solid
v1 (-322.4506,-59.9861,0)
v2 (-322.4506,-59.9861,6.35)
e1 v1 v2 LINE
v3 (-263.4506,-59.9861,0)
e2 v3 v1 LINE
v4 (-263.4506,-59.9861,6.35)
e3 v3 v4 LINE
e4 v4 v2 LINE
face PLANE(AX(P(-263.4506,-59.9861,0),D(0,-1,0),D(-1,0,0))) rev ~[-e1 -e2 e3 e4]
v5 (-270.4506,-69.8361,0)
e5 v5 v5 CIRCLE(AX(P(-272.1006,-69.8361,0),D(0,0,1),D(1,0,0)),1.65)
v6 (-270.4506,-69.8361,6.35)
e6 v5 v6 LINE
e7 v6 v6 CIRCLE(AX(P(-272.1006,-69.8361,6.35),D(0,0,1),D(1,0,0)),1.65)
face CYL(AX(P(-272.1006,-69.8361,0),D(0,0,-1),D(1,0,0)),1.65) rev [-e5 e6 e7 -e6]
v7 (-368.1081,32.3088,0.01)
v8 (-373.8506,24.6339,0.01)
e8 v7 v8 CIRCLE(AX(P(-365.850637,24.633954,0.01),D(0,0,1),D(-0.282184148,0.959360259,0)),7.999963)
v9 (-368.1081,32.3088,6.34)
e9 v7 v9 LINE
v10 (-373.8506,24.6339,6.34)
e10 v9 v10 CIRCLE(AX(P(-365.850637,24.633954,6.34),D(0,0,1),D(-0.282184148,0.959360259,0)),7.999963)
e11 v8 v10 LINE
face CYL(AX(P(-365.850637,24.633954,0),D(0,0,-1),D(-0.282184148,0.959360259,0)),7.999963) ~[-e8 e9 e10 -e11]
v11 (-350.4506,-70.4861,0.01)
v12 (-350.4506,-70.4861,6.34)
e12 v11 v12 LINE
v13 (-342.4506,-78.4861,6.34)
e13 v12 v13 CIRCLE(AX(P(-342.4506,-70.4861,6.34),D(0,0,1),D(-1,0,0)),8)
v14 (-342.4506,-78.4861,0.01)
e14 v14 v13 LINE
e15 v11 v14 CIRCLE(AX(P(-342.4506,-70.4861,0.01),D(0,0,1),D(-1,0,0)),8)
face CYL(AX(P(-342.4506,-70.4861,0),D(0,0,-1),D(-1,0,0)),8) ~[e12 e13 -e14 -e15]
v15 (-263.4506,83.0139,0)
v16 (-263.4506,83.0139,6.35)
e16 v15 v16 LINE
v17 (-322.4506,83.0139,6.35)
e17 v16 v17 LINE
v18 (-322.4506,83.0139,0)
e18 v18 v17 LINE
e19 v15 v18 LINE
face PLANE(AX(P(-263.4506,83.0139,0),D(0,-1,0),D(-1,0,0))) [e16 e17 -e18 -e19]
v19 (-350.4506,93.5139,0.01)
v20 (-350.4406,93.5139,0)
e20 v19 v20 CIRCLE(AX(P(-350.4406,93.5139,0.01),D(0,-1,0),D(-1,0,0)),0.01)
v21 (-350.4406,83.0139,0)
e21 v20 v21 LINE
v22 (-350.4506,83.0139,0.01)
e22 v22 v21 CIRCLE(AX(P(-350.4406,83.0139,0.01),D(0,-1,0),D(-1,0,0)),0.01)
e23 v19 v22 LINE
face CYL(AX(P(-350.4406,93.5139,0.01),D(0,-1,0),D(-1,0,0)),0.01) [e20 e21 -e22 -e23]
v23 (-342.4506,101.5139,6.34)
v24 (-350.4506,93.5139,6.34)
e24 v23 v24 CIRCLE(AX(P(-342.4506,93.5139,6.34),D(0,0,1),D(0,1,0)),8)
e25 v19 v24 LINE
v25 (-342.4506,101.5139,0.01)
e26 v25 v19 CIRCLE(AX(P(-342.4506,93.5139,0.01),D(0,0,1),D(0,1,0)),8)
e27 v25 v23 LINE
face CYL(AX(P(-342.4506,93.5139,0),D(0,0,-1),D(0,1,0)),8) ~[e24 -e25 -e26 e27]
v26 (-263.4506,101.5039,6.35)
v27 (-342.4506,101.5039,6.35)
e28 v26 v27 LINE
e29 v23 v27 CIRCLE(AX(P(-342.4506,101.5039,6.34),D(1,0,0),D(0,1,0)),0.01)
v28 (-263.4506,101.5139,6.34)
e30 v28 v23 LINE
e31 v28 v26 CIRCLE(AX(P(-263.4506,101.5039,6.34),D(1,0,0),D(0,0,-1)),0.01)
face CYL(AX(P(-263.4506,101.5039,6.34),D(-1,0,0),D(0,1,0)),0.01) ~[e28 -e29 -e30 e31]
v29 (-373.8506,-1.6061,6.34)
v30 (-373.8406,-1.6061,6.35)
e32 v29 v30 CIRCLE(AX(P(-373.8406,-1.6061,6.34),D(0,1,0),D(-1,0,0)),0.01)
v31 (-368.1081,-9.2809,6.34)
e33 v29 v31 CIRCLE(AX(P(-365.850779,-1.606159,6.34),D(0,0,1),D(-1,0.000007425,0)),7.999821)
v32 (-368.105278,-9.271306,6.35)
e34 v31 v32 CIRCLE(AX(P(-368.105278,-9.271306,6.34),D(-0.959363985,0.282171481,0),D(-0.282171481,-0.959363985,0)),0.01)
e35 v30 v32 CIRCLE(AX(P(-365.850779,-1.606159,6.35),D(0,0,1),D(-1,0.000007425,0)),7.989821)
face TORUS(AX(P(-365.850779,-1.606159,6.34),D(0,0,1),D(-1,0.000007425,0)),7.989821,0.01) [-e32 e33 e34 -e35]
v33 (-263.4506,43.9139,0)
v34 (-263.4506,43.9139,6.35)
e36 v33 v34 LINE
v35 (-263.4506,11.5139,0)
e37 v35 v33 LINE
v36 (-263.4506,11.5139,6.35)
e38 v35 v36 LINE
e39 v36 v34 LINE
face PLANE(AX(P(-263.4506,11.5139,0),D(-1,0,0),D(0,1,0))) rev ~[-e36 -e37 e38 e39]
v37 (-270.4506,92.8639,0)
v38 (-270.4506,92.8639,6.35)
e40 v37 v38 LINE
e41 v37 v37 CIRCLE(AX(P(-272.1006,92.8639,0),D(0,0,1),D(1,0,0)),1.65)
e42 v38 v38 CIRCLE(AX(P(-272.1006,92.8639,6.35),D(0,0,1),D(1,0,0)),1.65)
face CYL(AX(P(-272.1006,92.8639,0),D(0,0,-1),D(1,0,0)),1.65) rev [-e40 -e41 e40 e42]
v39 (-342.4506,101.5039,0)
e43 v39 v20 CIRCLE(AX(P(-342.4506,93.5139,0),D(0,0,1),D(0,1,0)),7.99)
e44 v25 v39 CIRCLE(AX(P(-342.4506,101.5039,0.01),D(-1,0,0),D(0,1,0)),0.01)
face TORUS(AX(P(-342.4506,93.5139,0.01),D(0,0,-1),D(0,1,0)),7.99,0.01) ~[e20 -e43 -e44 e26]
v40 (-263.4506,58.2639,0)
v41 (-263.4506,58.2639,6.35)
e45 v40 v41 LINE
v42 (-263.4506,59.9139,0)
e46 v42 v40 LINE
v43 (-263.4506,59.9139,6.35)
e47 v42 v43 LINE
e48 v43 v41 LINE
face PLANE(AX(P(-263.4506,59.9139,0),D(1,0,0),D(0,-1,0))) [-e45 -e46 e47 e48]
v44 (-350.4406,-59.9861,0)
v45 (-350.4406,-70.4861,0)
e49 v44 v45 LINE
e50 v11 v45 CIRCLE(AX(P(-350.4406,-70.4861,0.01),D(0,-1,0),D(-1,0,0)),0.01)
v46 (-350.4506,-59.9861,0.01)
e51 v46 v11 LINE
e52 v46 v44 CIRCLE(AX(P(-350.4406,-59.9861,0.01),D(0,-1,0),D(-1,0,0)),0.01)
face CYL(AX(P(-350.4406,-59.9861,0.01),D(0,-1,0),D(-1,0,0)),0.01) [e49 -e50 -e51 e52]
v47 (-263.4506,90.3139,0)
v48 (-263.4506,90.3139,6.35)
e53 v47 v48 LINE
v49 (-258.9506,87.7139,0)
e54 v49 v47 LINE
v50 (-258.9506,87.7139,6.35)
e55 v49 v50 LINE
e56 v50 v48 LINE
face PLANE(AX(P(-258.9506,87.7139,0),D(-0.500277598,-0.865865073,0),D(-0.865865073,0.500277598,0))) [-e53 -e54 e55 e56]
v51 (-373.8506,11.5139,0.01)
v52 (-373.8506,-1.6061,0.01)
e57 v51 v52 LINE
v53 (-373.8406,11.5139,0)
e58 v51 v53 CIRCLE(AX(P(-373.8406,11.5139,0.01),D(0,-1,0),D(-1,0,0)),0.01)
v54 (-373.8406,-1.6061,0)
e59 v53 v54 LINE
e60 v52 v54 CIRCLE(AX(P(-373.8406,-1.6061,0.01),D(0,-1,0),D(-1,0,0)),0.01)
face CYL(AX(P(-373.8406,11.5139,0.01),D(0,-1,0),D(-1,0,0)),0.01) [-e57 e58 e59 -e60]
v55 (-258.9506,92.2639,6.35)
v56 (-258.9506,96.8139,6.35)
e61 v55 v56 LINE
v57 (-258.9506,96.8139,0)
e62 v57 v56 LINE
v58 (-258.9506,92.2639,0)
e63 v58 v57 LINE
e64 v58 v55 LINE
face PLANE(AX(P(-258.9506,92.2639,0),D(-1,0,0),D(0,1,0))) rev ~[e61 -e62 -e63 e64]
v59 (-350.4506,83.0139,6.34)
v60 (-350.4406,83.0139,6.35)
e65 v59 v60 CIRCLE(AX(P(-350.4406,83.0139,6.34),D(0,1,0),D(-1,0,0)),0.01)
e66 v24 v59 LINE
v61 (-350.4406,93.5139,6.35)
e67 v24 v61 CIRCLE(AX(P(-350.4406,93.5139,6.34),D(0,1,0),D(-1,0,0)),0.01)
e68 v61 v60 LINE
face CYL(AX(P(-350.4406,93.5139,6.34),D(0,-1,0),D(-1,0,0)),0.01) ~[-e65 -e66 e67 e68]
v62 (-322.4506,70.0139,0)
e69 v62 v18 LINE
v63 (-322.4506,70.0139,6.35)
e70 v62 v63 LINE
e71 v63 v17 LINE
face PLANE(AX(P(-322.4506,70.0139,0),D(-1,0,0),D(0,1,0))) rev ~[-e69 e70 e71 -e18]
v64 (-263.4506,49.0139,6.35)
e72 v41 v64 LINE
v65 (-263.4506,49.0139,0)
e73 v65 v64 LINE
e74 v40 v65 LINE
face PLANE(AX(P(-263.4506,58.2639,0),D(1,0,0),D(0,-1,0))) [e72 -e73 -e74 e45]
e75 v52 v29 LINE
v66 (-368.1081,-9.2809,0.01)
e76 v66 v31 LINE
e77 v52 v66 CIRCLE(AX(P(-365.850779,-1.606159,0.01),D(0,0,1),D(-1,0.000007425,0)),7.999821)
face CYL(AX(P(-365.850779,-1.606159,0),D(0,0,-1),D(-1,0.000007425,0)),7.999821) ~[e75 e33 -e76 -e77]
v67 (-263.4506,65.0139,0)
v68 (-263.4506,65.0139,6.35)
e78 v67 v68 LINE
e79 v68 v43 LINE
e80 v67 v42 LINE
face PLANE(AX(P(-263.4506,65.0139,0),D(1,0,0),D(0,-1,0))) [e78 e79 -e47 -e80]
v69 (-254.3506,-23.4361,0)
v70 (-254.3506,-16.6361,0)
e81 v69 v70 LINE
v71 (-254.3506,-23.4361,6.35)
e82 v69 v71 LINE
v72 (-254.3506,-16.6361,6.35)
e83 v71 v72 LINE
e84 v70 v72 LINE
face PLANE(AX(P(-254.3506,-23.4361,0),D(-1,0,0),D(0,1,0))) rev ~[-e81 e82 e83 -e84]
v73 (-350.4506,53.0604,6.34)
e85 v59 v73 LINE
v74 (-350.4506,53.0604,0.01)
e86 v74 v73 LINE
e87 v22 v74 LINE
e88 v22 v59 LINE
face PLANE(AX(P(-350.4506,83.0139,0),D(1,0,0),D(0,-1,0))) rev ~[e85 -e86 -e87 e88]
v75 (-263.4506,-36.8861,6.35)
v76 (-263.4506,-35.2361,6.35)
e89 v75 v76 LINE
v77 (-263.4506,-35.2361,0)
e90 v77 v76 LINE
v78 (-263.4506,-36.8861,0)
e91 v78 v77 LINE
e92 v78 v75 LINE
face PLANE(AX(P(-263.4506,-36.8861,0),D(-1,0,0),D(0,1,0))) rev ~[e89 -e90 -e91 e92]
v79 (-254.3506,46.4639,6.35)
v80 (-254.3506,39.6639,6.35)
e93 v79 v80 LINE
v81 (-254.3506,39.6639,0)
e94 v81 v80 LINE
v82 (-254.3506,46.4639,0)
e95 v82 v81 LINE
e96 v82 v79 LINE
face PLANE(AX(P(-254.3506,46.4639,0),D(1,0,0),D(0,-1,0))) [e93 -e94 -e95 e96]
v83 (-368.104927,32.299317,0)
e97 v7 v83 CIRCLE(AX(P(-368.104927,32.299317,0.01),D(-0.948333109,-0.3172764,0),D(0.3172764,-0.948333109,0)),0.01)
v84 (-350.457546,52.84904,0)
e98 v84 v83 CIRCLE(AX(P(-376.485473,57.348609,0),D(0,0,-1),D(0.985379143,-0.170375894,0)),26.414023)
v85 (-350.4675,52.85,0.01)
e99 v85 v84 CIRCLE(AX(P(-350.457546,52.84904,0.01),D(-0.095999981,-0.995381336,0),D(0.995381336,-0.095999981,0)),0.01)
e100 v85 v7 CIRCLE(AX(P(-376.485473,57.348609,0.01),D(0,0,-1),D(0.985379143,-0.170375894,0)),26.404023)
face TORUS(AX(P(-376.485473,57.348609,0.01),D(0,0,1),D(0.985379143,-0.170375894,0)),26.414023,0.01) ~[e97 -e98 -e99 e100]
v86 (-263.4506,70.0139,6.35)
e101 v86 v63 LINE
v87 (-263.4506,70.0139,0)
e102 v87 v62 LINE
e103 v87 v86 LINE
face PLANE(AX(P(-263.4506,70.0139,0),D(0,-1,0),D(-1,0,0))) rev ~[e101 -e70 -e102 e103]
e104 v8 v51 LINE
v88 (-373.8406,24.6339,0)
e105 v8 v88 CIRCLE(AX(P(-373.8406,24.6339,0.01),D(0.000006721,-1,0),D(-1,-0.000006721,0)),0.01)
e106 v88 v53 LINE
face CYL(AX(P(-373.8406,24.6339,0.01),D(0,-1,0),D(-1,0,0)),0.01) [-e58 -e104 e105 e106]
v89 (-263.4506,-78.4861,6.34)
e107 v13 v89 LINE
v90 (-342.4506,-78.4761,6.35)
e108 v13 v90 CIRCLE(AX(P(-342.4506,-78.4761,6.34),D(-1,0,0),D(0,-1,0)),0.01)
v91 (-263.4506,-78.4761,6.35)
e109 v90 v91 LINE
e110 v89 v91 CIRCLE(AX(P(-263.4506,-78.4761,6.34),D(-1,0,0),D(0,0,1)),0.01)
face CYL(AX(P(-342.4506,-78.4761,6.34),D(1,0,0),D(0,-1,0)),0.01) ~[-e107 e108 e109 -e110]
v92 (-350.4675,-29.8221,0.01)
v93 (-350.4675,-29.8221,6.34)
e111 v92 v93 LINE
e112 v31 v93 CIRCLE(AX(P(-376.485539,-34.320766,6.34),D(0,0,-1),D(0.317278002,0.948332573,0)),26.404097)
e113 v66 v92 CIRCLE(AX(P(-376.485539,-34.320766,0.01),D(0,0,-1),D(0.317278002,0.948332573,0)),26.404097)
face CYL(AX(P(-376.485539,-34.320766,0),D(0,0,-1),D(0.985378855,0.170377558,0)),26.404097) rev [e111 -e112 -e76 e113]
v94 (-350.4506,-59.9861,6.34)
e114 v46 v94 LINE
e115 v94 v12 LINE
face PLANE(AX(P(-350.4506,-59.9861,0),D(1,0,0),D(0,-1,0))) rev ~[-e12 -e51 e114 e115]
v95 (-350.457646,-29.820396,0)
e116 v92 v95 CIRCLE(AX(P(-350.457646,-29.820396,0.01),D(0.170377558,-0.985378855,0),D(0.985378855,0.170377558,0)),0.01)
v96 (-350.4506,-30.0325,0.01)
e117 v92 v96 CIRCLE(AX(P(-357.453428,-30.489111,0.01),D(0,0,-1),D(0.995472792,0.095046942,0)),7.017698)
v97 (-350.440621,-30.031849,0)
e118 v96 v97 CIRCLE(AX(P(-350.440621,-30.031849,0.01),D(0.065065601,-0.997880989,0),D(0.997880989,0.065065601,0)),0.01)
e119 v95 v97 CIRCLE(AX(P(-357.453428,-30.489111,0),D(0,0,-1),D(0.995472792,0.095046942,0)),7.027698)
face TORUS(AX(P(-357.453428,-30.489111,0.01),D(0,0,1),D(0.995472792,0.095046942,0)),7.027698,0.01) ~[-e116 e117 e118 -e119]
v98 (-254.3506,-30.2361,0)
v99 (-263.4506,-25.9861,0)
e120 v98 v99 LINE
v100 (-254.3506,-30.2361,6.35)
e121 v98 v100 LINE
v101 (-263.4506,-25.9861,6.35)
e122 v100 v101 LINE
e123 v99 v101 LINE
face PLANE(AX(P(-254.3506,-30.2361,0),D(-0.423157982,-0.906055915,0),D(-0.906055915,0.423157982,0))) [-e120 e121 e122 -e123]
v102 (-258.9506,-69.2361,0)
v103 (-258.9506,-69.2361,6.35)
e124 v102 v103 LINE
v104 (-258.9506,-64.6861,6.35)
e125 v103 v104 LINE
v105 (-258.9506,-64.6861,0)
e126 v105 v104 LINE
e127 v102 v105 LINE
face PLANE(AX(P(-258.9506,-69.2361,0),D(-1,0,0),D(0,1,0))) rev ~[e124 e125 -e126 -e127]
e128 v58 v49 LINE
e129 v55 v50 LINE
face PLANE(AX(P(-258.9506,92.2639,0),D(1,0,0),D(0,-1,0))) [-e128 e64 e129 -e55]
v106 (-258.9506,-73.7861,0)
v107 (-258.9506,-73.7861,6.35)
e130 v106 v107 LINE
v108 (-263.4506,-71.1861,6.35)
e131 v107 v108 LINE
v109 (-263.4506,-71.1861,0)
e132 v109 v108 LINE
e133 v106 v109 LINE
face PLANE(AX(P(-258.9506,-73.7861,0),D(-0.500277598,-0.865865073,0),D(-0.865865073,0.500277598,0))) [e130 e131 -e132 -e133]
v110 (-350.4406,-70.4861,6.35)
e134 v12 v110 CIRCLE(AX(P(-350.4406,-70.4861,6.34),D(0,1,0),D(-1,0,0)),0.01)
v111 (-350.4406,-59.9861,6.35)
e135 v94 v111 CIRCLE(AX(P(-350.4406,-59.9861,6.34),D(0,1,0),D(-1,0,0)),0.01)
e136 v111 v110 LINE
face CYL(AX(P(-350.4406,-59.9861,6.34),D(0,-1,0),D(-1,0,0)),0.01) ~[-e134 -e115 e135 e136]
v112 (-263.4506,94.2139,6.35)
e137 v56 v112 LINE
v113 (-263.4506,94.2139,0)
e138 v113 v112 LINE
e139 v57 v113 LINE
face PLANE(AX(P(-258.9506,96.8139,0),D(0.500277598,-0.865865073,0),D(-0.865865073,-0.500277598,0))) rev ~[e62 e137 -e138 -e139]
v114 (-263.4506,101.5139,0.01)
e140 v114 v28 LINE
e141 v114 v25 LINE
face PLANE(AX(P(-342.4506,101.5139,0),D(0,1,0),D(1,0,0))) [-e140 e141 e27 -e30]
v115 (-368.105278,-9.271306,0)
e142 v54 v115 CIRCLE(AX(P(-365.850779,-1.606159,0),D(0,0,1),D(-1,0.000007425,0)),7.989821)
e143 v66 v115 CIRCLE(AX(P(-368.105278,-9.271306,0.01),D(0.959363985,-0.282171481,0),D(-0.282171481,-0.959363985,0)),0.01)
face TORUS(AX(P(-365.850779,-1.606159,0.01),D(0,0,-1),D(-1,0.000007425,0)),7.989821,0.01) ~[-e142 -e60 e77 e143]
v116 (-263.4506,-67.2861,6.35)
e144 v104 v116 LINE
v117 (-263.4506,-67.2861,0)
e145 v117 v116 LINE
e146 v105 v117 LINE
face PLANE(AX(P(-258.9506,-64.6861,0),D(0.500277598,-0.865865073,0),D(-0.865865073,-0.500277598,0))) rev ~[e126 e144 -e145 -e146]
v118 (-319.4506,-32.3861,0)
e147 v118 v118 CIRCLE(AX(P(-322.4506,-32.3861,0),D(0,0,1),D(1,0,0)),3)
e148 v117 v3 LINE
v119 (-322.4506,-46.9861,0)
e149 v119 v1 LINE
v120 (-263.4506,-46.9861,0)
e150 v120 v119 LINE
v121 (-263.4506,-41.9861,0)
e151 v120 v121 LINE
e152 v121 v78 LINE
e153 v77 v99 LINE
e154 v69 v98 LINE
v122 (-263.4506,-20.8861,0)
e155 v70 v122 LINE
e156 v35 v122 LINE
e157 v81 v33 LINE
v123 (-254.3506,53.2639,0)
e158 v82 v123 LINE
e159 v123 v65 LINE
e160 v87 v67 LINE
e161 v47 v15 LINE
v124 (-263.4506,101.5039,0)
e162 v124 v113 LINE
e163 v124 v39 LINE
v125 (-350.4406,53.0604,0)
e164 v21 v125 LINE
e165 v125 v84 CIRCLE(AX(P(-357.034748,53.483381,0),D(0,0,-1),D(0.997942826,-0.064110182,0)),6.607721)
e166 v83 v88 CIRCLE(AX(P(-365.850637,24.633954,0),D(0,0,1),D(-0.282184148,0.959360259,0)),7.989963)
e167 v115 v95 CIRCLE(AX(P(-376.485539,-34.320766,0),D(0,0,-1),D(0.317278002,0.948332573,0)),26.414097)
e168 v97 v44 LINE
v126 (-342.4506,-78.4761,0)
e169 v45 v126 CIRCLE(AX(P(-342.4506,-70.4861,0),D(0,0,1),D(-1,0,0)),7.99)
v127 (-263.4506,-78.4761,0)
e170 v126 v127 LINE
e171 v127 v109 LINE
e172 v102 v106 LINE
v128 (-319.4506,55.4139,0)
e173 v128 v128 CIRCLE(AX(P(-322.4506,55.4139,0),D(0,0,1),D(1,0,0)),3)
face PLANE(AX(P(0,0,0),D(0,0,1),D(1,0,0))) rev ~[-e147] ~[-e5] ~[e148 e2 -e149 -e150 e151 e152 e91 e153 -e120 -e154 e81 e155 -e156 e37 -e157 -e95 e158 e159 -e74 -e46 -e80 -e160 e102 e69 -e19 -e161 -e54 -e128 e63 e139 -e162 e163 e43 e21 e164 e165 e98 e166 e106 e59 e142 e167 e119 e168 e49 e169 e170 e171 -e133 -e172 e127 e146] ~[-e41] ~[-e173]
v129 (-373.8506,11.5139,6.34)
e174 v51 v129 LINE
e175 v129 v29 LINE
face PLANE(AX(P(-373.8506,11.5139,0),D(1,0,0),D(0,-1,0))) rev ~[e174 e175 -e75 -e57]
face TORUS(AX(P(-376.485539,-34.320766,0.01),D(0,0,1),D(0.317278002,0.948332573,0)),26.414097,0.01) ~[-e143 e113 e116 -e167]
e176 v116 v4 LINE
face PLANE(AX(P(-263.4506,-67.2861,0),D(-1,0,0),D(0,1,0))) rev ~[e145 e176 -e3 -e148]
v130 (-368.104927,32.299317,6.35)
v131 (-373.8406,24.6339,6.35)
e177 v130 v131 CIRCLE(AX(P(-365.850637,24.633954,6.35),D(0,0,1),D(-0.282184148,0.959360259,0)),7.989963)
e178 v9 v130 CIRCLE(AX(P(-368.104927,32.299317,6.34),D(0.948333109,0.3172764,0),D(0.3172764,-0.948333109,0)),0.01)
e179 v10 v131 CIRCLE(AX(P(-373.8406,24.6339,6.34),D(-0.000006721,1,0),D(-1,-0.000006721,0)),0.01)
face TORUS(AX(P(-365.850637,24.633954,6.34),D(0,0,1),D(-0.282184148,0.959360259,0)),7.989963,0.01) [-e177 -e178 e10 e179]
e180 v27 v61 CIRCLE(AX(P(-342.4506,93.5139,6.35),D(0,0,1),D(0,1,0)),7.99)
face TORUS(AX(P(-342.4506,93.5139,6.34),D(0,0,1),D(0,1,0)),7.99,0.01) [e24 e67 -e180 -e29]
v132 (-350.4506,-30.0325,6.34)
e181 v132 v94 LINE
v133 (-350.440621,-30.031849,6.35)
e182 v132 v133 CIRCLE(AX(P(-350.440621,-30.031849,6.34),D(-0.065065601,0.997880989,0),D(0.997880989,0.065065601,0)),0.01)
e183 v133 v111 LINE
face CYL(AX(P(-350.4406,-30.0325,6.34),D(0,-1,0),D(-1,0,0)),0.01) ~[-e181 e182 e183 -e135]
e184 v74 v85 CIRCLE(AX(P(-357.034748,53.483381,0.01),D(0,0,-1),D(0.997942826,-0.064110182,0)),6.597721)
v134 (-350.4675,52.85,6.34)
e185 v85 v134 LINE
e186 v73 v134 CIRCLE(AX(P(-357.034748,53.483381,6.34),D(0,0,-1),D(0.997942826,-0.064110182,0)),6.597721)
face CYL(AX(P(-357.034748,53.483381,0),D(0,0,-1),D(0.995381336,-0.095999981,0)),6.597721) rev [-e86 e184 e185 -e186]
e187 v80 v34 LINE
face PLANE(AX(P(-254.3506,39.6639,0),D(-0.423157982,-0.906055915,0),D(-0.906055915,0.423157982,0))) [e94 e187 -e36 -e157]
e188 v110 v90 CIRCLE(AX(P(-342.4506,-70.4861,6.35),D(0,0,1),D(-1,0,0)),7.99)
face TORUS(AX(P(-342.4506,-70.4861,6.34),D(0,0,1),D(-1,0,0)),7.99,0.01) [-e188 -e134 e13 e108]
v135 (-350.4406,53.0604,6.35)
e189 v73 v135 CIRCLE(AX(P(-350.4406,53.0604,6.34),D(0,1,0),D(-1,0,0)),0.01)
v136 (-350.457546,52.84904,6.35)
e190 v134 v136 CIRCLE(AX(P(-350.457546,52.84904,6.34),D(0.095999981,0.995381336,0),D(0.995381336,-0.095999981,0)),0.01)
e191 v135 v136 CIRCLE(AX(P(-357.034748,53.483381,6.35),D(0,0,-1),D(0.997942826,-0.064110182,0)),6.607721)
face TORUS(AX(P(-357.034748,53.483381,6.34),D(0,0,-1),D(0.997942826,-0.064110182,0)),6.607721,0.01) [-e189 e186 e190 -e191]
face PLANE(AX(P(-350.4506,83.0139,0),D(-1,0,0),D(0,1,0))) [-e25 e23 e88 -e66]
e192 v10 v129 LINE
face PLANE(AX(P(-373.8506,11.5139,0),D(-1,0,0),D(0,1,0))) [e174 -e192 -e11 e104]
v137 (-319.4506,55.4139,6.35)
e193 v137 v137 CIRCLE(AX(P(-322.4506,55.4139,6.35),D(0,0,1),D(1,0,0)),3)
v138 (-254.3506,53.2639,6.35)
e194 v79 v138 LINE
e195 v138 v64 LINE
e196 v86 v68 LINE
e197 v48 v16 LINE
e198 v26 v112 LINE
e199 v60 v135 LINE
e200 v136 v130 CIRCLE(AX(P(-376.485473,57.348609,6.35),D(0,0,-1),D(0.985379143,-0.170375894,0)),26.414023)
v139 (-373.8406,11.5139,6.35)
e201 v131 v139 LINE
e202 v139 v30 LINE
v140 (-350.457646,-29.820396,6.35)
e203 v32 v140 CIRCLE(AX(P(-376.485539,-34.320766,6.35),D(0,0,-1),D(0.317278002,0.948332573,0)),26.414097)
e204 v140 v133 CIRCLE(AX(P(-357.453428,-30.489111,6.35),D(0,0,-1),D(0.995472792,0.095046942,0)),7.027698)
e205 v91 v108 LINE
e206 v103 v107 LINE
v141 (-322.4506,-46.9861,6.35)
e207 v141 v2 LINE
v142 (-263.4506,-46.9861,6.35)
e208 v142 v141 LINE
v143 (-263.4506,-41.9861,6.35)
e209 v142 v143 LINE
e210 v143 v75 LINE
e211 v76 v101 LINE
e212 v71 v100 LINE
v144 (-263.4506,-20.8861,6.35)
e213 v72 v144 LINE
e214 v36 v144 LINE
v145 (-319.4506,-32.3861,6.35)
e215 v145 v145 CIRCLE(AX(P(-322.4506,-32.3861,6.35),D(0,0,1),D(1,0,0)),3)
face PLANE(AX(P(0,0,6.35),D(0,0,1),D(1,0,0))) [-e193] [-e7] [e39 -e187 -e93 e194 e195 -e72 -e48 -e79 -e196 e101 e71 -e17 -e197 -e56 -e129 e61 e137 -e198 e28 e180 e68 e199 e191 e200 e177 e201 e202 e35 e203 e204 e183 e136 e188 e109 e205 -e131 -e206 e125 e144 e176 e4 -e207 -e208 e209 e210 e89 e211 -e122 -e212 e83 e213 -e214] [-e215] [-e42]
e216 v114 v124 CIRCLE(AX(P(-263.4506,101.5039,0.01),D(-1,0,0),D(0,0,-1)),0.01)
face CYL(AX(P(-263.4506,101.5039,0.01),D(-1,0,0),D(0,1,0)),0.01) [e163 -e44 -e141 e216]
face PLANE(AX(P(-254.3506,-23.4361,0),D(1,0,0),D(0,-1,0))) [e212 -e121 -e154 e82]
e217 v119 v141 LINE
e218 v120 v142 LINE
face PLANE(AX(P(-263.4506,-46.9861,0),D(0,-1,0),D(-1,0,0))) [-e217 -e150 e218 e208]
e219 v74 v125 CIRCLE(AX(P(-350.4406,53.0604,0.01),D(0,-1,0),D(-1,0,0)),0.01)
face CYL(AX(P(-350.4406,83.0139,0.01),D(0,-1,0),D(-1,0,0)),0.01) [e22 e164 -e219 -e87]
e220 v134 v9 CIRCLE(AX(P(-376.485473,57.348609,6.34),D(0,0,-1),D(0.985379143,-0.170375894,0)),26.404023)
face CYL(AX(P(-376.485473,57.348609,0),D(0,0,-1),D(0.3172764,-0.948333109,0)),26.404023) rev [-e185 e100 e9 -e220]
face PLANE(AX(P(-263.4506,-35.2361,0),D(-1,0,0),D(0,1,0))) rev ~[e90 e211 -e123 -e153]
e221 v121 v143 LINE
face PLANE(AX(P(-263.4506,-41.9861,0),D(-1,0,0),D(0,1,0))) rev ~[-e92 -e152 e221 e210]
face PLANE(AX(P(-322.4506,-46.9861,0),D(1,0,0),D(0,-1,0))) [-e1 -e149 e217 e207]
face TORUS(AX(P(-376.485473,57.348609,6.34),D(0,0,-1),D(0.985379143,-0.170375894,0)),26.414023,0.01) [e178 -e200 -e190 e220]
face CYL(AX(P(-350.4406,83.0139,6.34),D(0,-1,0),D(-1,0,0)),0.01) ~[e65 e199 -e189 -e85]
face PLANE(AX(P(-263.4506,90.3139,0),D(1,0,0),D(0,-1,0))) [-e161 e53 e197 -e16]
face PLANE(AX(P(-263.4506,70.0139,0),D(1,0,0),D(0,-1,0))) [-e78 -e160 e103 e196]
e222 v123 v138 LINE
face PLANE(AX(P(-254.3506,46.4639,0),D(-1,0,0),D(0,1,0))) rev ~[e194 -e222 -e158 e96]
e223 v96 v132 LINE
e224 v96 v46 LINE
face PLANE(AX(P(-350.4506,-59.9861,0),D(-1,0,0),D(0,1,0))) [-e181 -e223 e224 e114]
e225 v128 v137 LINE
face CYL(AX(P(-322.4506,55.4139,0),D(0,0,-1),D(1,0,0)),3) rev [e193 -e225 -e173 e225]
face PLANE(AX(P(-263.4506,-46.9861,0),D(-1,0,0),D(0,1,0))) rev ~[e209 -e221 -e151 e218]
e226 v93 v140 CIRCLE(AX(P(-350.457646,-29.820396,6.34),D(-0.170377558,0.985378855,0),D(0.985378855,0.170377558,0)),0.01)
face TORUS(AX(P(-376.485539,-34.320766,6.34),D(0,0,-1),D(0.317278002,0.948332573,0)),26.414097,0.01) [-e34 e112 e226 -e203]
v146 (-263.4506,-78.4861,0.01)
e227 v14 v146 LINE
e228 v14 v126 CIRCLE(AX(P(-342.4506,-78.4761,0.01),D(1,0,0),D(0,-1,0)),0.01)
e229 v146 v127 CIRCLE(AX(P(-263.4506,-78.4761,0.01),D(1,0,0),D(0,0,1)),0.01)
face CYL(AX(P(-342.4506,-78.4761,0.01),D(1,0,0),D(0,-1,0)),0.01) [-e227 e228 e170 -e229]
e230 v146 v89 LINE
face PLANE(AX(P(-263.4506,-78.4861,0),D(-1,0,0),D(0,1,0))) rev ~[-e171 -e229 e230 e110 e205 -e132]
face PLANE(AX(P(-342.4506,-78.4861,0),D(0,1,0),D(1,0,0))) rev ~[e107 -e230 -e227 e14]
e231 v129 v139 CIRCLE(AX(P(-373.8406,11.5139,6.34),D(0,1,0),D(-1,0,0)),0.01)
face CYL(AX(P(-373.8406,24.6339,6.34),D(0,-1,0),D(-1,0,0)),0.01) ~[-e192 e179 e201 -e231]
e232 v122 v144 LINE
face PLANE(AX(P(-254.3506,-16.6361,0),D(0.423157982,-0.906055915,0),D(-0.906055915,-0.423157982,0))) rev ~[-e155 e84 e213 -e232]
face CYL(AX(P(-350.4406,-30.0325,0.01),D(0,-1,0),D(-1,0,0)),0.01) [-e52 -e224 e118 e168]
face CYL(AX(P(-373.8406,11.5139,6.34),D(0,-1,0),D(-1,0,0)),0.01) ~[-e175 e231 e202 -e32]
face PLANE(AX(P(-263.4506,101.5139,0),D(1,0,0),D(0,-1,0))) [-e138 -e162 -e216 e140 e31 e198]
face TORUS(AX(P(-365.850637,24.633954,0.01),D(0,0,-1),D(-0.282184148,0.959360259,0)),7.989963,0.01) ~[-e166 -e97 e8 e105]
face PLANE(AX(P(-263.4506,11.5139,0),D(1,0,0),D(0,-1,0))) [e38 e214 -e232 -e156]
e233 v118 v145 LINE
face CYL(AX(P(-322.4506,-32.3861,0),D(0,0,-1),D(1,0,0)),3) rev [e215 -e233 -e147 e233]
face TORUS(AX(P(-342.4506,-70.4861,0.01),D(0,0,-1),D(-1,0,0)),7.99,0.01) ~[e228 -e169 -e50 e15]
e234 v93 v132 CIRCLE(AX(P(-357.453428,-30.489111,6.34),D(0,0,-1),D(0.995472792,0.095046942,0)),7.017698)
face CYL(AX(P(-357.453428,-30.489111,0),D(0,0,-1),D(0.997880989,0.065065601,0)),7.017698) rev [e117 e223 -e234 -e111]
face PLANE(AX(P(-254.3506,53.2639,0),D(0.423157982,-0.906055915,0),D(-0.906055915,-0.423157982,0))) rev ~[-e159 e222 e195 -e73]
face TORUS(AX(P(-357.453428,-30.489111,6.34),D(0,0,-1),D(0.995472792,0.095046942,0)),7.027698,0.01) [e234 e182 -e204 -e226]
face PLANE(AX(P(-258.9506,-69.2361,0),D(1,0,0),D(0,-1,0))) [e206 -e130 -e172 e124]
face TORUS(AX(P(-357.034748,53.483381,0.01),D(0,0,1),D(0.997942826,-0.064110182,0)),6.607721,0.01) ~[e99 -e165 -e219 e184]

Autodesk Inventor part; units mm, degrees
ref_plane "YZ Plane" through (0, 0, 0) normal (1, 0, 0) x (0, 1, 0)
ref_plane "XZ Plane" through (0, 0, 0) normal (0, 1, 0) x (-1, 0, 0)
ref_plane "XY Plane" through (0, 0, 0) normal (0, 0, 1) x (1, 0, 0)
sketch "Boceto1" plane through (0, 0, 0) normal (0, 0, 1) x (1, 0, 0)
  line L0 (0, 71.5) -> (84.4, 71.5)
  line L1 (0, 0) -> (4.5, 0)
  line L2 (62.2, 0) -> (62.2, 35)
  line L3 (62.2, 35) -> (112.2, 35)
  line L4 (112.2, 35) -> (112.2, 0)
  line L5 (84.4, 58.5) -> (84.4, 71.5)
  line L6 (84.4, 58.5) -> (0, 58.5)
  line L7 (87.2, 35) -> (108.2, 35)
  circle A0 centre (108.2, 46.75) radius 1.65
  circle A1 centre (66.2, 46.75) radius 1.65
  circle A2 centre (31.1, 43.75) radius 3
  circle A3 centre (178.7, 0) radius 2.5
  circle A4 centre (68.5, 81.35) radius 1.65
  line L8 (0, 90) -> (105.7, 90)
  arc A5 (120.7782, 83.1308) -> (105.7, 90) centre (105.672, 69.9553) ccw
  line L9 (200, 0) -> (200, 30.4)
  arc A6 (200, 30.4) -> (192, 38.4) centre (192, 30.4) ccw
  arc A7 (120.7782, 83.1308) -> (192, 38.4) centre (202.3119, 133.8853) ccw
  line L10 (4.5, 80.75) -> (4.5, 85.3)
  line L11 (4.5, 85.3) -> (0, 82.7)
  line L12 (4.5, 80.75) -> (4.5, 76.2)
  line L13 (4.5, 76.2) -> (0, 78.8)
  line L14 (0, 90) -> (0, 82.7)
  line L15 (0, 58.5) -> (0, 53.5)
  line L16 (0, 48.4) -> (0, 46.75)
  line L17 (0, 78.8) -> (0, 71.5)
  line L18 (0, 58.5) -> (0, 53.5)
  line L19 (0, 53.5) -> (0, 48.4)
  line L20 (0, 58.5) -> (0, 37.5)
  line L21 (9.1, 34.95) -> (9.1, 41.75)
  line L22 (9.1, 41.75) -> (0, 37.5)
  line L23 (9.1, 34.95) -> (9.1, 28.15)
  line L24 (9.1, 28.15) -> (0, 32.4)
  line L25 (0, 0) -> (0, 32.4)
  line L26 (0, 37.5) -> (0, 46.75)
  line L27 (0, -71.5) -> (84.4, -71.5)
  line L28 (62.2, 0) -> (62.2, -35)
  line L29 (62.2, -35) -> (112.2, -35)
  line L30 (112.2, -35) -> (112.2, 0)
  line L31 (84.4, -58.5) -> (84.4, -71.5)
  line L32 (84.4, -58.5) -> (0, -58.5)
  line L33 (87.2, -35) -> (108.2, -35)
  circle A8 centre (108.2, -46.75) radius 1.65
  circle A9 centre (66.2, -46.75) radius 1.65
  circle A10 centre (31.1, -43.75) radius 3
  circle A11 centre (178.7, 0) radius 2.5
  circle A12 centre (68.5, -81.35) radius 1.65
  line L34 (0, -90) -> (105.7, -90)
  arc A13 (105.7, -90) -> (120.7782, -83.1308) centre (105.672, -69.9553) ccw
  line L35 (200, 0) -> (200, -30.4)
  arc A14 (192, -38.4) -> (200, -30.4) centre (192, -30.4) ccw
  arc A15 (192, -38.4) -> (120.7782, -83.1308) centre (202.3119, -133.8853) ccw
  line L36 (4.5, -80.75) -> (4.5, -85.3)
  line L37 (4.5, -85.3) -> (0, -82.7)
  line L38 (4.5, -80.75) -> (4.5, -76.2)
  line L39 (4.5, -76.2) -> (0, -78.8)
  line L40 (0, -90) -> (0, -82.7)
  line L41 (0, -58.5) -> (0, -53.5)
  line L42 (0, -48.4) -> (0, -46.75)
  line L43 (0, -78.8) -> (0, -71.5)
  line L44 (0, -58.5) -> (0, -53.5)
  line L45 (0, -53.5) -> (0, -48.4)
  line L46 (0, -58.5) -> (0, -37.5)
  line L47 (9.1, -34.95) -> (9.1, -41.75)
  line L48 (9.1, -41.75) -> (0, -37.5)
  line L49 (9.1, -34.95) -> (9.1, -28.15)
  line L50 (9.1, -28.15) -> (0, -32.4)
  line L51 (0, 0) -> (0, -32.4)
  line L52 (0, -37.5) -> (0, -46.75)
  line L53 (261.8168, 58.5) -> (321.3628, 58.5)
  line L54 (321.3628, 58.5) -> (321.3628, -17.5)
  line L55 (321.3628, -17.5) -> (261.8168, -17.5)
  line L56 (261.8168, -17.5) -> (261.8168, 58.5)
sketch "Boceto3" plane through (0, 0, 0) normal (0, 0, 1) x (1, 0, 0)
  line L0 (-258.9506, 92.2639) -> (-258.9506, 96.8139)
  line L1 (-258.9506, 96.8139) -> (-263.4506, 94.2139)
  line L2 (-258.9506, 92.2639) -> (-258.9506, 87.7139)
  line L3 (-258.9506, 87.7139) -> (-263.4506, 90.3139)
  line L4 (-263.4506, 101.5139) -> (-263.4506, 94.2139)
  line L5 (-263.4506, 70.0139) -> (-263.4506, 65.0139)
  line L6 (-263.4506, 59.9139) -> (-263.4506, 58.2639)
  line L7 (-263.4506, 90.3139) -> (-263.4506, 83.0139)
  line L8 (-263.4506, 70.0139) -> (-263.4506, 65.0139)
  line L9 (-263.4506, 65.0139) -> (-263.4506, 59.9139)
  line L10 (-263.4506, 70.0139) -> (-263.4506, 49.0139)
  line L11 (-254.3506, 46.4639) -> (-254.3506, 53.2639)
  line L12 (-254.3506, 53.2639) -> (-263.4506, 49.0139)
  line L13 (-254.3506, 46.4639) -> (-254.3506, 39.6639)
  line L14 (-254.3506, 39.6639) -> (-263.4506, 43.9139)
  line L15 (-263.4506, 11.5139) -> (-263.4506, 43.9139)
  line L16 (-263.4506, 49.0139) -> (-263.4506, 58.2639)
  line L17 (-263.4506, 83.0139) -> (-322.4506, 83.0139)
  line L18 (-263.4506, 83.0139) -> (-322.4506, 83.0139)
  line L19 (-263.4506, 70.0139) -> (-322.4506, 70.0139)
  line L20 (-322.4506, 70.0139) -> (-322.4506, 83.0139)
  circle A0 centre (-322.4506, 55.4139) radius 3
  line L21 (-350.4506, 83.0139) -> (-350.4506, 93.5139)
  circle A1 centre (-272.1006, 92.8639) radius 1.65
  line L22 (-342.4506, 101.5139) -> (-263.4506, 101.5139)
  line L23 (-373.8506, 11.5139) -> (-373.8506, 24.6339)
  arc A2 (-368.1081, 32.3088) -> (-373.8506, 24.6339) centre (-365.8506, 24.6339) ccw
  arc A3 (-342.4506, 101.5139) -> (-350.4506, 93.5139) centre (-342.4506, 93.5139) ccw
  arc A4 (-368.1081, 32.3088) -> (-350.4675, 52.85) centre (-376.4854, 57.3485) ccw
  line L24 (-350.4506, 83.0139) -> (-350.4506, 53.0604)
  arc A5 (-350.4675, 52.85) -> (-350.4506, 53.0604) centre (-357.2375, 53.5013) ccw
  line L25 (-258.9506, -69.2361) -> (-258.9506, -73.7861)
  line L26 (-258.9506, -73.7861) -> (-263.4506, -71.1861)
  line L27 (-258.9506, -69.2361) -> (-258.9506, -64.6861)
  line L28 (-258.9506, -64.6861) -> (-263.4506, -67.2861)
  line L29 (-263.4506, -78.4861) -> (-263.4506, -71.1861)
  line L30 (-263.4506, -46.9861) -> (-263.4506, -41.9861)
  line L31 (-263.4506, -36.8861) -> (-263.4506, -35.2361)
  line L32 (-263.4506, -67.2861) -> (-263.4506, -59.9861)
  line L33 (-263.4506, -46.9861) -> (-263.4506, -41.9861)
  line L34 (-263.4506, -41.9861) -> (-263.4506, -36.8861)
  line L35 (-263.4506, -46.9861) -> (-263.4506, -25.9861)
  line L36 (-254.3506, -23.4361) -> (-254.3506, -30.2361)
  line L37 (-254.3506, -30.2361) -> (-263.4506, -25.9861)
  line L38 (-254.3506, -23.4361) -> (-254.3506, -16.6361)
  line L39 (-254.3506, -16.6361) -> (-263.4506, -20.8861)
  line L40 (-263.4506, 11.5139) -> (-263.4506, -20.8861)
  line L41 (-263.4506, -25.9861) -> (-263.4506, -35.2361)
  line L42 (-263.4506, -59.9861) -> (-322.4506, -59.9861)
  line L43 (-263.4506, -59.9861) -> (-322.4506, -59.9861)
  line L44 (-263.4506, -46.9861) -> (-322.4506, -46.9861)
  line L45 (-322.4506, -46.9861) -> (-322.4506, -59.9861)
  circle A6 centre (-322.4506, -32.3861) radius 3
  line L46 (-350.4506, -59.9861) -> (-350.4506, -70.4861)
  circle A7 centre (-272.1006, -69.8361) radius 1.65
  line L47 (-342.4506, -78.4861) -> (-263.4506, -78.4861)
  line L48 (-373.8506, 11.5139) -> (-373.8506, -1.6061)
  arc A8 (-373.8506, -1.6061) -> (-368.1081, -9.2809) centre (-365.8506, -1.6061) ccw
  arc A9 (-350.4506, -70.4861) -> (-342.4506, -78.4861) centre (-342.4506, -70.4861) ccw
  arc A10 (-350.4675, -29.8221) -> (-368.1081, -9.2809) centre (-376.4854, -34.3207) ccw
  line L49 (-350.4506, -59.9861) -> (-350.4506, -30.0325)
  arc A11 (-350.4506, -30.0325) -> (-350.4675, -29.8221) centre (-357.2375, -30.4734) ccw
  point P0 (0, 0)
sketch "Boceto4" plane through (0, 0, 0) normal (0, 0, 1) x (1, 0, 0)
  line L0 (-279.0503, -82.5554) -> (-279.0503, -78.0054)
  line L1 (-279.0503, -78.0054) -> (-283.5503, -80.6054)
  line L2 (-279.0503, -82.5554) -> (-279.0503, -87.1054)
  line L3 (-279.0503, -87.1054) -> (-283.5503, -84.5054)
  line L4 (-283.5503, -73.3054) -> (-283.5503, -80.6054)
  line L5 (-283.5503, -104.8054) -> (-283.5503, -109.8054)
  line L6 (-283.5503, -114.9054) -> (-283.5503, -116.5554)
  line L7 (-283.5503, -84.5054) -> (-283.5503, -91.8054)
  line L8 (-283.5503, -104.8054) -> (-283.5503, -109.8054)
  line L9 (-283.5503, -109.8054) -> (-283.5503, -114.9054)
  line L10 (-283.5503, -104.8054) -> (-283.5503, -125.8054)
  line L11 (-274.4503, -128.3554) -> (-274.4503, -121.5554)
  line L12 (-274.4503, -121.5554) -> (-283.5503, -125.8054)
  line L13 (-274.4503, -128.3554) -> (-274.4503, -135.1554)
  line L14 (-274.4503, -135.1554) -> (-283.5503, -130.9054)
  line L15 (-283.5503, -163.3054) -> (-283.5503, -130.9054)
  line L16 (-283.5503, -125.8054) -> (-283.5503, -116.5554)
  line L17 (-393.9503, -163.3054) -> (-283.5503, -163.3054)
  line L18 (-283.5503, -91.8054) -> (-342.5503, -91.8054)
  line L19 (-283.5503, -91.8054) -> (-342.5503, -91.8054)
  line L20 (-283.5503, -104.8054) -> (-342.5503, -104.8054)
  line L21 (-342.5503, -104.8054) -> (-342.5503, -91.8054)
  circle A0 centre (-342.5503, -119.4054) radius 3
  line L22 (-370.5503, -91.8054) -> (-370.5503, -81.3054)
  circle A1 centre (-292.2003, -81.9554) radius 1.65
  line L23 (-362.5503, -73.3054) -> (-283.5503, -73.3054)
  line L24 (-393.9503, -163.3054) -> (-393.9503, -150.1854)
  arc A2 (-388.2078, -142.5105) -> (-393.9503, -150.1854) centre (-385.9503, -150.1854) ccw
  arc A3 (-362.5503, -73.3054) -> (-370.5503, -81.3054) centre (-362.5503, -81.3054) ccw
  arc A4 (-388.2078, -142.5105) -> (-370.5672, -121.9694) centre (-396.5851, -117.4708) ccw
  line L25 (-370.5503, -91.8054) -> (-370.5503, -121.7589)
  arc A5 (-370.5672, -121.9694) -> (-370.5503, -121.7589) centre (-377.3372, -121.318) ccw
  point P0 (0, 0)
  point P1 (89.2704, -12.3046)
  dimension "d61" = 13.12
  dimension "d62" = 8
extrude "Extrusión2" add sketch "Boceto3" along normal blind 6.35
fillet "Empalme3" radius 0.01 22 edges at (-348.1074, 99.1708, 6.35) (-350.4506, 88.2639, 6.35) (-302.9506, 101.5139, 6.35) (-356.4543, 40.1461, 6.35) (-373.8506, 18.0739, 6.35) (-372.256, -6.3988, 6.35) (-372.256, 29.4266, 6.35) (-356.4543, -17.1182, 6.35) (-348.1074, -76.1429, 6.35) (-302.9506, -78.4861, 6.35) (-350.4506, -45.0093, 6.35) (-348.1074, 99.1708, 0) (-350.4506, 88.2639, 0) (-302.9506, 101.5139, 0) (-356.4543, 40.1461, 0) (-373.8506, 18.0739, 0) (-372.256, -6.3988, 0) (-372.256, 29.4266, 0) (-356.4543, -17.1182, 0) (-348.1074, -76.1429, 0) (-302.9506, -78.4861, 0) (-350.4506, -45.0093, 0)
equation "\"Radio_pliegue\" = Grosor"
equation "\"Anchura_desahogo_plegado\" = Grosor"
equation "\"Profundidad_desahogo_plegado\" = 0.5 * Grosor"
equation "\"Tamaño_destalonado\" = 4 * Grosor"
equation "\"Remanente_mínimo\" = 2 * Grosor"
equation "\"Radiodetransición\" = Radio_pliegue"
equation "\"Tamaño_de_radio_de_Jacobi\" = Radio_pliegue"
equation "\"TamañoSeparación\" = Grosor"
equation "\"Grosor\" = 0.5"
properties part number "tmr"
